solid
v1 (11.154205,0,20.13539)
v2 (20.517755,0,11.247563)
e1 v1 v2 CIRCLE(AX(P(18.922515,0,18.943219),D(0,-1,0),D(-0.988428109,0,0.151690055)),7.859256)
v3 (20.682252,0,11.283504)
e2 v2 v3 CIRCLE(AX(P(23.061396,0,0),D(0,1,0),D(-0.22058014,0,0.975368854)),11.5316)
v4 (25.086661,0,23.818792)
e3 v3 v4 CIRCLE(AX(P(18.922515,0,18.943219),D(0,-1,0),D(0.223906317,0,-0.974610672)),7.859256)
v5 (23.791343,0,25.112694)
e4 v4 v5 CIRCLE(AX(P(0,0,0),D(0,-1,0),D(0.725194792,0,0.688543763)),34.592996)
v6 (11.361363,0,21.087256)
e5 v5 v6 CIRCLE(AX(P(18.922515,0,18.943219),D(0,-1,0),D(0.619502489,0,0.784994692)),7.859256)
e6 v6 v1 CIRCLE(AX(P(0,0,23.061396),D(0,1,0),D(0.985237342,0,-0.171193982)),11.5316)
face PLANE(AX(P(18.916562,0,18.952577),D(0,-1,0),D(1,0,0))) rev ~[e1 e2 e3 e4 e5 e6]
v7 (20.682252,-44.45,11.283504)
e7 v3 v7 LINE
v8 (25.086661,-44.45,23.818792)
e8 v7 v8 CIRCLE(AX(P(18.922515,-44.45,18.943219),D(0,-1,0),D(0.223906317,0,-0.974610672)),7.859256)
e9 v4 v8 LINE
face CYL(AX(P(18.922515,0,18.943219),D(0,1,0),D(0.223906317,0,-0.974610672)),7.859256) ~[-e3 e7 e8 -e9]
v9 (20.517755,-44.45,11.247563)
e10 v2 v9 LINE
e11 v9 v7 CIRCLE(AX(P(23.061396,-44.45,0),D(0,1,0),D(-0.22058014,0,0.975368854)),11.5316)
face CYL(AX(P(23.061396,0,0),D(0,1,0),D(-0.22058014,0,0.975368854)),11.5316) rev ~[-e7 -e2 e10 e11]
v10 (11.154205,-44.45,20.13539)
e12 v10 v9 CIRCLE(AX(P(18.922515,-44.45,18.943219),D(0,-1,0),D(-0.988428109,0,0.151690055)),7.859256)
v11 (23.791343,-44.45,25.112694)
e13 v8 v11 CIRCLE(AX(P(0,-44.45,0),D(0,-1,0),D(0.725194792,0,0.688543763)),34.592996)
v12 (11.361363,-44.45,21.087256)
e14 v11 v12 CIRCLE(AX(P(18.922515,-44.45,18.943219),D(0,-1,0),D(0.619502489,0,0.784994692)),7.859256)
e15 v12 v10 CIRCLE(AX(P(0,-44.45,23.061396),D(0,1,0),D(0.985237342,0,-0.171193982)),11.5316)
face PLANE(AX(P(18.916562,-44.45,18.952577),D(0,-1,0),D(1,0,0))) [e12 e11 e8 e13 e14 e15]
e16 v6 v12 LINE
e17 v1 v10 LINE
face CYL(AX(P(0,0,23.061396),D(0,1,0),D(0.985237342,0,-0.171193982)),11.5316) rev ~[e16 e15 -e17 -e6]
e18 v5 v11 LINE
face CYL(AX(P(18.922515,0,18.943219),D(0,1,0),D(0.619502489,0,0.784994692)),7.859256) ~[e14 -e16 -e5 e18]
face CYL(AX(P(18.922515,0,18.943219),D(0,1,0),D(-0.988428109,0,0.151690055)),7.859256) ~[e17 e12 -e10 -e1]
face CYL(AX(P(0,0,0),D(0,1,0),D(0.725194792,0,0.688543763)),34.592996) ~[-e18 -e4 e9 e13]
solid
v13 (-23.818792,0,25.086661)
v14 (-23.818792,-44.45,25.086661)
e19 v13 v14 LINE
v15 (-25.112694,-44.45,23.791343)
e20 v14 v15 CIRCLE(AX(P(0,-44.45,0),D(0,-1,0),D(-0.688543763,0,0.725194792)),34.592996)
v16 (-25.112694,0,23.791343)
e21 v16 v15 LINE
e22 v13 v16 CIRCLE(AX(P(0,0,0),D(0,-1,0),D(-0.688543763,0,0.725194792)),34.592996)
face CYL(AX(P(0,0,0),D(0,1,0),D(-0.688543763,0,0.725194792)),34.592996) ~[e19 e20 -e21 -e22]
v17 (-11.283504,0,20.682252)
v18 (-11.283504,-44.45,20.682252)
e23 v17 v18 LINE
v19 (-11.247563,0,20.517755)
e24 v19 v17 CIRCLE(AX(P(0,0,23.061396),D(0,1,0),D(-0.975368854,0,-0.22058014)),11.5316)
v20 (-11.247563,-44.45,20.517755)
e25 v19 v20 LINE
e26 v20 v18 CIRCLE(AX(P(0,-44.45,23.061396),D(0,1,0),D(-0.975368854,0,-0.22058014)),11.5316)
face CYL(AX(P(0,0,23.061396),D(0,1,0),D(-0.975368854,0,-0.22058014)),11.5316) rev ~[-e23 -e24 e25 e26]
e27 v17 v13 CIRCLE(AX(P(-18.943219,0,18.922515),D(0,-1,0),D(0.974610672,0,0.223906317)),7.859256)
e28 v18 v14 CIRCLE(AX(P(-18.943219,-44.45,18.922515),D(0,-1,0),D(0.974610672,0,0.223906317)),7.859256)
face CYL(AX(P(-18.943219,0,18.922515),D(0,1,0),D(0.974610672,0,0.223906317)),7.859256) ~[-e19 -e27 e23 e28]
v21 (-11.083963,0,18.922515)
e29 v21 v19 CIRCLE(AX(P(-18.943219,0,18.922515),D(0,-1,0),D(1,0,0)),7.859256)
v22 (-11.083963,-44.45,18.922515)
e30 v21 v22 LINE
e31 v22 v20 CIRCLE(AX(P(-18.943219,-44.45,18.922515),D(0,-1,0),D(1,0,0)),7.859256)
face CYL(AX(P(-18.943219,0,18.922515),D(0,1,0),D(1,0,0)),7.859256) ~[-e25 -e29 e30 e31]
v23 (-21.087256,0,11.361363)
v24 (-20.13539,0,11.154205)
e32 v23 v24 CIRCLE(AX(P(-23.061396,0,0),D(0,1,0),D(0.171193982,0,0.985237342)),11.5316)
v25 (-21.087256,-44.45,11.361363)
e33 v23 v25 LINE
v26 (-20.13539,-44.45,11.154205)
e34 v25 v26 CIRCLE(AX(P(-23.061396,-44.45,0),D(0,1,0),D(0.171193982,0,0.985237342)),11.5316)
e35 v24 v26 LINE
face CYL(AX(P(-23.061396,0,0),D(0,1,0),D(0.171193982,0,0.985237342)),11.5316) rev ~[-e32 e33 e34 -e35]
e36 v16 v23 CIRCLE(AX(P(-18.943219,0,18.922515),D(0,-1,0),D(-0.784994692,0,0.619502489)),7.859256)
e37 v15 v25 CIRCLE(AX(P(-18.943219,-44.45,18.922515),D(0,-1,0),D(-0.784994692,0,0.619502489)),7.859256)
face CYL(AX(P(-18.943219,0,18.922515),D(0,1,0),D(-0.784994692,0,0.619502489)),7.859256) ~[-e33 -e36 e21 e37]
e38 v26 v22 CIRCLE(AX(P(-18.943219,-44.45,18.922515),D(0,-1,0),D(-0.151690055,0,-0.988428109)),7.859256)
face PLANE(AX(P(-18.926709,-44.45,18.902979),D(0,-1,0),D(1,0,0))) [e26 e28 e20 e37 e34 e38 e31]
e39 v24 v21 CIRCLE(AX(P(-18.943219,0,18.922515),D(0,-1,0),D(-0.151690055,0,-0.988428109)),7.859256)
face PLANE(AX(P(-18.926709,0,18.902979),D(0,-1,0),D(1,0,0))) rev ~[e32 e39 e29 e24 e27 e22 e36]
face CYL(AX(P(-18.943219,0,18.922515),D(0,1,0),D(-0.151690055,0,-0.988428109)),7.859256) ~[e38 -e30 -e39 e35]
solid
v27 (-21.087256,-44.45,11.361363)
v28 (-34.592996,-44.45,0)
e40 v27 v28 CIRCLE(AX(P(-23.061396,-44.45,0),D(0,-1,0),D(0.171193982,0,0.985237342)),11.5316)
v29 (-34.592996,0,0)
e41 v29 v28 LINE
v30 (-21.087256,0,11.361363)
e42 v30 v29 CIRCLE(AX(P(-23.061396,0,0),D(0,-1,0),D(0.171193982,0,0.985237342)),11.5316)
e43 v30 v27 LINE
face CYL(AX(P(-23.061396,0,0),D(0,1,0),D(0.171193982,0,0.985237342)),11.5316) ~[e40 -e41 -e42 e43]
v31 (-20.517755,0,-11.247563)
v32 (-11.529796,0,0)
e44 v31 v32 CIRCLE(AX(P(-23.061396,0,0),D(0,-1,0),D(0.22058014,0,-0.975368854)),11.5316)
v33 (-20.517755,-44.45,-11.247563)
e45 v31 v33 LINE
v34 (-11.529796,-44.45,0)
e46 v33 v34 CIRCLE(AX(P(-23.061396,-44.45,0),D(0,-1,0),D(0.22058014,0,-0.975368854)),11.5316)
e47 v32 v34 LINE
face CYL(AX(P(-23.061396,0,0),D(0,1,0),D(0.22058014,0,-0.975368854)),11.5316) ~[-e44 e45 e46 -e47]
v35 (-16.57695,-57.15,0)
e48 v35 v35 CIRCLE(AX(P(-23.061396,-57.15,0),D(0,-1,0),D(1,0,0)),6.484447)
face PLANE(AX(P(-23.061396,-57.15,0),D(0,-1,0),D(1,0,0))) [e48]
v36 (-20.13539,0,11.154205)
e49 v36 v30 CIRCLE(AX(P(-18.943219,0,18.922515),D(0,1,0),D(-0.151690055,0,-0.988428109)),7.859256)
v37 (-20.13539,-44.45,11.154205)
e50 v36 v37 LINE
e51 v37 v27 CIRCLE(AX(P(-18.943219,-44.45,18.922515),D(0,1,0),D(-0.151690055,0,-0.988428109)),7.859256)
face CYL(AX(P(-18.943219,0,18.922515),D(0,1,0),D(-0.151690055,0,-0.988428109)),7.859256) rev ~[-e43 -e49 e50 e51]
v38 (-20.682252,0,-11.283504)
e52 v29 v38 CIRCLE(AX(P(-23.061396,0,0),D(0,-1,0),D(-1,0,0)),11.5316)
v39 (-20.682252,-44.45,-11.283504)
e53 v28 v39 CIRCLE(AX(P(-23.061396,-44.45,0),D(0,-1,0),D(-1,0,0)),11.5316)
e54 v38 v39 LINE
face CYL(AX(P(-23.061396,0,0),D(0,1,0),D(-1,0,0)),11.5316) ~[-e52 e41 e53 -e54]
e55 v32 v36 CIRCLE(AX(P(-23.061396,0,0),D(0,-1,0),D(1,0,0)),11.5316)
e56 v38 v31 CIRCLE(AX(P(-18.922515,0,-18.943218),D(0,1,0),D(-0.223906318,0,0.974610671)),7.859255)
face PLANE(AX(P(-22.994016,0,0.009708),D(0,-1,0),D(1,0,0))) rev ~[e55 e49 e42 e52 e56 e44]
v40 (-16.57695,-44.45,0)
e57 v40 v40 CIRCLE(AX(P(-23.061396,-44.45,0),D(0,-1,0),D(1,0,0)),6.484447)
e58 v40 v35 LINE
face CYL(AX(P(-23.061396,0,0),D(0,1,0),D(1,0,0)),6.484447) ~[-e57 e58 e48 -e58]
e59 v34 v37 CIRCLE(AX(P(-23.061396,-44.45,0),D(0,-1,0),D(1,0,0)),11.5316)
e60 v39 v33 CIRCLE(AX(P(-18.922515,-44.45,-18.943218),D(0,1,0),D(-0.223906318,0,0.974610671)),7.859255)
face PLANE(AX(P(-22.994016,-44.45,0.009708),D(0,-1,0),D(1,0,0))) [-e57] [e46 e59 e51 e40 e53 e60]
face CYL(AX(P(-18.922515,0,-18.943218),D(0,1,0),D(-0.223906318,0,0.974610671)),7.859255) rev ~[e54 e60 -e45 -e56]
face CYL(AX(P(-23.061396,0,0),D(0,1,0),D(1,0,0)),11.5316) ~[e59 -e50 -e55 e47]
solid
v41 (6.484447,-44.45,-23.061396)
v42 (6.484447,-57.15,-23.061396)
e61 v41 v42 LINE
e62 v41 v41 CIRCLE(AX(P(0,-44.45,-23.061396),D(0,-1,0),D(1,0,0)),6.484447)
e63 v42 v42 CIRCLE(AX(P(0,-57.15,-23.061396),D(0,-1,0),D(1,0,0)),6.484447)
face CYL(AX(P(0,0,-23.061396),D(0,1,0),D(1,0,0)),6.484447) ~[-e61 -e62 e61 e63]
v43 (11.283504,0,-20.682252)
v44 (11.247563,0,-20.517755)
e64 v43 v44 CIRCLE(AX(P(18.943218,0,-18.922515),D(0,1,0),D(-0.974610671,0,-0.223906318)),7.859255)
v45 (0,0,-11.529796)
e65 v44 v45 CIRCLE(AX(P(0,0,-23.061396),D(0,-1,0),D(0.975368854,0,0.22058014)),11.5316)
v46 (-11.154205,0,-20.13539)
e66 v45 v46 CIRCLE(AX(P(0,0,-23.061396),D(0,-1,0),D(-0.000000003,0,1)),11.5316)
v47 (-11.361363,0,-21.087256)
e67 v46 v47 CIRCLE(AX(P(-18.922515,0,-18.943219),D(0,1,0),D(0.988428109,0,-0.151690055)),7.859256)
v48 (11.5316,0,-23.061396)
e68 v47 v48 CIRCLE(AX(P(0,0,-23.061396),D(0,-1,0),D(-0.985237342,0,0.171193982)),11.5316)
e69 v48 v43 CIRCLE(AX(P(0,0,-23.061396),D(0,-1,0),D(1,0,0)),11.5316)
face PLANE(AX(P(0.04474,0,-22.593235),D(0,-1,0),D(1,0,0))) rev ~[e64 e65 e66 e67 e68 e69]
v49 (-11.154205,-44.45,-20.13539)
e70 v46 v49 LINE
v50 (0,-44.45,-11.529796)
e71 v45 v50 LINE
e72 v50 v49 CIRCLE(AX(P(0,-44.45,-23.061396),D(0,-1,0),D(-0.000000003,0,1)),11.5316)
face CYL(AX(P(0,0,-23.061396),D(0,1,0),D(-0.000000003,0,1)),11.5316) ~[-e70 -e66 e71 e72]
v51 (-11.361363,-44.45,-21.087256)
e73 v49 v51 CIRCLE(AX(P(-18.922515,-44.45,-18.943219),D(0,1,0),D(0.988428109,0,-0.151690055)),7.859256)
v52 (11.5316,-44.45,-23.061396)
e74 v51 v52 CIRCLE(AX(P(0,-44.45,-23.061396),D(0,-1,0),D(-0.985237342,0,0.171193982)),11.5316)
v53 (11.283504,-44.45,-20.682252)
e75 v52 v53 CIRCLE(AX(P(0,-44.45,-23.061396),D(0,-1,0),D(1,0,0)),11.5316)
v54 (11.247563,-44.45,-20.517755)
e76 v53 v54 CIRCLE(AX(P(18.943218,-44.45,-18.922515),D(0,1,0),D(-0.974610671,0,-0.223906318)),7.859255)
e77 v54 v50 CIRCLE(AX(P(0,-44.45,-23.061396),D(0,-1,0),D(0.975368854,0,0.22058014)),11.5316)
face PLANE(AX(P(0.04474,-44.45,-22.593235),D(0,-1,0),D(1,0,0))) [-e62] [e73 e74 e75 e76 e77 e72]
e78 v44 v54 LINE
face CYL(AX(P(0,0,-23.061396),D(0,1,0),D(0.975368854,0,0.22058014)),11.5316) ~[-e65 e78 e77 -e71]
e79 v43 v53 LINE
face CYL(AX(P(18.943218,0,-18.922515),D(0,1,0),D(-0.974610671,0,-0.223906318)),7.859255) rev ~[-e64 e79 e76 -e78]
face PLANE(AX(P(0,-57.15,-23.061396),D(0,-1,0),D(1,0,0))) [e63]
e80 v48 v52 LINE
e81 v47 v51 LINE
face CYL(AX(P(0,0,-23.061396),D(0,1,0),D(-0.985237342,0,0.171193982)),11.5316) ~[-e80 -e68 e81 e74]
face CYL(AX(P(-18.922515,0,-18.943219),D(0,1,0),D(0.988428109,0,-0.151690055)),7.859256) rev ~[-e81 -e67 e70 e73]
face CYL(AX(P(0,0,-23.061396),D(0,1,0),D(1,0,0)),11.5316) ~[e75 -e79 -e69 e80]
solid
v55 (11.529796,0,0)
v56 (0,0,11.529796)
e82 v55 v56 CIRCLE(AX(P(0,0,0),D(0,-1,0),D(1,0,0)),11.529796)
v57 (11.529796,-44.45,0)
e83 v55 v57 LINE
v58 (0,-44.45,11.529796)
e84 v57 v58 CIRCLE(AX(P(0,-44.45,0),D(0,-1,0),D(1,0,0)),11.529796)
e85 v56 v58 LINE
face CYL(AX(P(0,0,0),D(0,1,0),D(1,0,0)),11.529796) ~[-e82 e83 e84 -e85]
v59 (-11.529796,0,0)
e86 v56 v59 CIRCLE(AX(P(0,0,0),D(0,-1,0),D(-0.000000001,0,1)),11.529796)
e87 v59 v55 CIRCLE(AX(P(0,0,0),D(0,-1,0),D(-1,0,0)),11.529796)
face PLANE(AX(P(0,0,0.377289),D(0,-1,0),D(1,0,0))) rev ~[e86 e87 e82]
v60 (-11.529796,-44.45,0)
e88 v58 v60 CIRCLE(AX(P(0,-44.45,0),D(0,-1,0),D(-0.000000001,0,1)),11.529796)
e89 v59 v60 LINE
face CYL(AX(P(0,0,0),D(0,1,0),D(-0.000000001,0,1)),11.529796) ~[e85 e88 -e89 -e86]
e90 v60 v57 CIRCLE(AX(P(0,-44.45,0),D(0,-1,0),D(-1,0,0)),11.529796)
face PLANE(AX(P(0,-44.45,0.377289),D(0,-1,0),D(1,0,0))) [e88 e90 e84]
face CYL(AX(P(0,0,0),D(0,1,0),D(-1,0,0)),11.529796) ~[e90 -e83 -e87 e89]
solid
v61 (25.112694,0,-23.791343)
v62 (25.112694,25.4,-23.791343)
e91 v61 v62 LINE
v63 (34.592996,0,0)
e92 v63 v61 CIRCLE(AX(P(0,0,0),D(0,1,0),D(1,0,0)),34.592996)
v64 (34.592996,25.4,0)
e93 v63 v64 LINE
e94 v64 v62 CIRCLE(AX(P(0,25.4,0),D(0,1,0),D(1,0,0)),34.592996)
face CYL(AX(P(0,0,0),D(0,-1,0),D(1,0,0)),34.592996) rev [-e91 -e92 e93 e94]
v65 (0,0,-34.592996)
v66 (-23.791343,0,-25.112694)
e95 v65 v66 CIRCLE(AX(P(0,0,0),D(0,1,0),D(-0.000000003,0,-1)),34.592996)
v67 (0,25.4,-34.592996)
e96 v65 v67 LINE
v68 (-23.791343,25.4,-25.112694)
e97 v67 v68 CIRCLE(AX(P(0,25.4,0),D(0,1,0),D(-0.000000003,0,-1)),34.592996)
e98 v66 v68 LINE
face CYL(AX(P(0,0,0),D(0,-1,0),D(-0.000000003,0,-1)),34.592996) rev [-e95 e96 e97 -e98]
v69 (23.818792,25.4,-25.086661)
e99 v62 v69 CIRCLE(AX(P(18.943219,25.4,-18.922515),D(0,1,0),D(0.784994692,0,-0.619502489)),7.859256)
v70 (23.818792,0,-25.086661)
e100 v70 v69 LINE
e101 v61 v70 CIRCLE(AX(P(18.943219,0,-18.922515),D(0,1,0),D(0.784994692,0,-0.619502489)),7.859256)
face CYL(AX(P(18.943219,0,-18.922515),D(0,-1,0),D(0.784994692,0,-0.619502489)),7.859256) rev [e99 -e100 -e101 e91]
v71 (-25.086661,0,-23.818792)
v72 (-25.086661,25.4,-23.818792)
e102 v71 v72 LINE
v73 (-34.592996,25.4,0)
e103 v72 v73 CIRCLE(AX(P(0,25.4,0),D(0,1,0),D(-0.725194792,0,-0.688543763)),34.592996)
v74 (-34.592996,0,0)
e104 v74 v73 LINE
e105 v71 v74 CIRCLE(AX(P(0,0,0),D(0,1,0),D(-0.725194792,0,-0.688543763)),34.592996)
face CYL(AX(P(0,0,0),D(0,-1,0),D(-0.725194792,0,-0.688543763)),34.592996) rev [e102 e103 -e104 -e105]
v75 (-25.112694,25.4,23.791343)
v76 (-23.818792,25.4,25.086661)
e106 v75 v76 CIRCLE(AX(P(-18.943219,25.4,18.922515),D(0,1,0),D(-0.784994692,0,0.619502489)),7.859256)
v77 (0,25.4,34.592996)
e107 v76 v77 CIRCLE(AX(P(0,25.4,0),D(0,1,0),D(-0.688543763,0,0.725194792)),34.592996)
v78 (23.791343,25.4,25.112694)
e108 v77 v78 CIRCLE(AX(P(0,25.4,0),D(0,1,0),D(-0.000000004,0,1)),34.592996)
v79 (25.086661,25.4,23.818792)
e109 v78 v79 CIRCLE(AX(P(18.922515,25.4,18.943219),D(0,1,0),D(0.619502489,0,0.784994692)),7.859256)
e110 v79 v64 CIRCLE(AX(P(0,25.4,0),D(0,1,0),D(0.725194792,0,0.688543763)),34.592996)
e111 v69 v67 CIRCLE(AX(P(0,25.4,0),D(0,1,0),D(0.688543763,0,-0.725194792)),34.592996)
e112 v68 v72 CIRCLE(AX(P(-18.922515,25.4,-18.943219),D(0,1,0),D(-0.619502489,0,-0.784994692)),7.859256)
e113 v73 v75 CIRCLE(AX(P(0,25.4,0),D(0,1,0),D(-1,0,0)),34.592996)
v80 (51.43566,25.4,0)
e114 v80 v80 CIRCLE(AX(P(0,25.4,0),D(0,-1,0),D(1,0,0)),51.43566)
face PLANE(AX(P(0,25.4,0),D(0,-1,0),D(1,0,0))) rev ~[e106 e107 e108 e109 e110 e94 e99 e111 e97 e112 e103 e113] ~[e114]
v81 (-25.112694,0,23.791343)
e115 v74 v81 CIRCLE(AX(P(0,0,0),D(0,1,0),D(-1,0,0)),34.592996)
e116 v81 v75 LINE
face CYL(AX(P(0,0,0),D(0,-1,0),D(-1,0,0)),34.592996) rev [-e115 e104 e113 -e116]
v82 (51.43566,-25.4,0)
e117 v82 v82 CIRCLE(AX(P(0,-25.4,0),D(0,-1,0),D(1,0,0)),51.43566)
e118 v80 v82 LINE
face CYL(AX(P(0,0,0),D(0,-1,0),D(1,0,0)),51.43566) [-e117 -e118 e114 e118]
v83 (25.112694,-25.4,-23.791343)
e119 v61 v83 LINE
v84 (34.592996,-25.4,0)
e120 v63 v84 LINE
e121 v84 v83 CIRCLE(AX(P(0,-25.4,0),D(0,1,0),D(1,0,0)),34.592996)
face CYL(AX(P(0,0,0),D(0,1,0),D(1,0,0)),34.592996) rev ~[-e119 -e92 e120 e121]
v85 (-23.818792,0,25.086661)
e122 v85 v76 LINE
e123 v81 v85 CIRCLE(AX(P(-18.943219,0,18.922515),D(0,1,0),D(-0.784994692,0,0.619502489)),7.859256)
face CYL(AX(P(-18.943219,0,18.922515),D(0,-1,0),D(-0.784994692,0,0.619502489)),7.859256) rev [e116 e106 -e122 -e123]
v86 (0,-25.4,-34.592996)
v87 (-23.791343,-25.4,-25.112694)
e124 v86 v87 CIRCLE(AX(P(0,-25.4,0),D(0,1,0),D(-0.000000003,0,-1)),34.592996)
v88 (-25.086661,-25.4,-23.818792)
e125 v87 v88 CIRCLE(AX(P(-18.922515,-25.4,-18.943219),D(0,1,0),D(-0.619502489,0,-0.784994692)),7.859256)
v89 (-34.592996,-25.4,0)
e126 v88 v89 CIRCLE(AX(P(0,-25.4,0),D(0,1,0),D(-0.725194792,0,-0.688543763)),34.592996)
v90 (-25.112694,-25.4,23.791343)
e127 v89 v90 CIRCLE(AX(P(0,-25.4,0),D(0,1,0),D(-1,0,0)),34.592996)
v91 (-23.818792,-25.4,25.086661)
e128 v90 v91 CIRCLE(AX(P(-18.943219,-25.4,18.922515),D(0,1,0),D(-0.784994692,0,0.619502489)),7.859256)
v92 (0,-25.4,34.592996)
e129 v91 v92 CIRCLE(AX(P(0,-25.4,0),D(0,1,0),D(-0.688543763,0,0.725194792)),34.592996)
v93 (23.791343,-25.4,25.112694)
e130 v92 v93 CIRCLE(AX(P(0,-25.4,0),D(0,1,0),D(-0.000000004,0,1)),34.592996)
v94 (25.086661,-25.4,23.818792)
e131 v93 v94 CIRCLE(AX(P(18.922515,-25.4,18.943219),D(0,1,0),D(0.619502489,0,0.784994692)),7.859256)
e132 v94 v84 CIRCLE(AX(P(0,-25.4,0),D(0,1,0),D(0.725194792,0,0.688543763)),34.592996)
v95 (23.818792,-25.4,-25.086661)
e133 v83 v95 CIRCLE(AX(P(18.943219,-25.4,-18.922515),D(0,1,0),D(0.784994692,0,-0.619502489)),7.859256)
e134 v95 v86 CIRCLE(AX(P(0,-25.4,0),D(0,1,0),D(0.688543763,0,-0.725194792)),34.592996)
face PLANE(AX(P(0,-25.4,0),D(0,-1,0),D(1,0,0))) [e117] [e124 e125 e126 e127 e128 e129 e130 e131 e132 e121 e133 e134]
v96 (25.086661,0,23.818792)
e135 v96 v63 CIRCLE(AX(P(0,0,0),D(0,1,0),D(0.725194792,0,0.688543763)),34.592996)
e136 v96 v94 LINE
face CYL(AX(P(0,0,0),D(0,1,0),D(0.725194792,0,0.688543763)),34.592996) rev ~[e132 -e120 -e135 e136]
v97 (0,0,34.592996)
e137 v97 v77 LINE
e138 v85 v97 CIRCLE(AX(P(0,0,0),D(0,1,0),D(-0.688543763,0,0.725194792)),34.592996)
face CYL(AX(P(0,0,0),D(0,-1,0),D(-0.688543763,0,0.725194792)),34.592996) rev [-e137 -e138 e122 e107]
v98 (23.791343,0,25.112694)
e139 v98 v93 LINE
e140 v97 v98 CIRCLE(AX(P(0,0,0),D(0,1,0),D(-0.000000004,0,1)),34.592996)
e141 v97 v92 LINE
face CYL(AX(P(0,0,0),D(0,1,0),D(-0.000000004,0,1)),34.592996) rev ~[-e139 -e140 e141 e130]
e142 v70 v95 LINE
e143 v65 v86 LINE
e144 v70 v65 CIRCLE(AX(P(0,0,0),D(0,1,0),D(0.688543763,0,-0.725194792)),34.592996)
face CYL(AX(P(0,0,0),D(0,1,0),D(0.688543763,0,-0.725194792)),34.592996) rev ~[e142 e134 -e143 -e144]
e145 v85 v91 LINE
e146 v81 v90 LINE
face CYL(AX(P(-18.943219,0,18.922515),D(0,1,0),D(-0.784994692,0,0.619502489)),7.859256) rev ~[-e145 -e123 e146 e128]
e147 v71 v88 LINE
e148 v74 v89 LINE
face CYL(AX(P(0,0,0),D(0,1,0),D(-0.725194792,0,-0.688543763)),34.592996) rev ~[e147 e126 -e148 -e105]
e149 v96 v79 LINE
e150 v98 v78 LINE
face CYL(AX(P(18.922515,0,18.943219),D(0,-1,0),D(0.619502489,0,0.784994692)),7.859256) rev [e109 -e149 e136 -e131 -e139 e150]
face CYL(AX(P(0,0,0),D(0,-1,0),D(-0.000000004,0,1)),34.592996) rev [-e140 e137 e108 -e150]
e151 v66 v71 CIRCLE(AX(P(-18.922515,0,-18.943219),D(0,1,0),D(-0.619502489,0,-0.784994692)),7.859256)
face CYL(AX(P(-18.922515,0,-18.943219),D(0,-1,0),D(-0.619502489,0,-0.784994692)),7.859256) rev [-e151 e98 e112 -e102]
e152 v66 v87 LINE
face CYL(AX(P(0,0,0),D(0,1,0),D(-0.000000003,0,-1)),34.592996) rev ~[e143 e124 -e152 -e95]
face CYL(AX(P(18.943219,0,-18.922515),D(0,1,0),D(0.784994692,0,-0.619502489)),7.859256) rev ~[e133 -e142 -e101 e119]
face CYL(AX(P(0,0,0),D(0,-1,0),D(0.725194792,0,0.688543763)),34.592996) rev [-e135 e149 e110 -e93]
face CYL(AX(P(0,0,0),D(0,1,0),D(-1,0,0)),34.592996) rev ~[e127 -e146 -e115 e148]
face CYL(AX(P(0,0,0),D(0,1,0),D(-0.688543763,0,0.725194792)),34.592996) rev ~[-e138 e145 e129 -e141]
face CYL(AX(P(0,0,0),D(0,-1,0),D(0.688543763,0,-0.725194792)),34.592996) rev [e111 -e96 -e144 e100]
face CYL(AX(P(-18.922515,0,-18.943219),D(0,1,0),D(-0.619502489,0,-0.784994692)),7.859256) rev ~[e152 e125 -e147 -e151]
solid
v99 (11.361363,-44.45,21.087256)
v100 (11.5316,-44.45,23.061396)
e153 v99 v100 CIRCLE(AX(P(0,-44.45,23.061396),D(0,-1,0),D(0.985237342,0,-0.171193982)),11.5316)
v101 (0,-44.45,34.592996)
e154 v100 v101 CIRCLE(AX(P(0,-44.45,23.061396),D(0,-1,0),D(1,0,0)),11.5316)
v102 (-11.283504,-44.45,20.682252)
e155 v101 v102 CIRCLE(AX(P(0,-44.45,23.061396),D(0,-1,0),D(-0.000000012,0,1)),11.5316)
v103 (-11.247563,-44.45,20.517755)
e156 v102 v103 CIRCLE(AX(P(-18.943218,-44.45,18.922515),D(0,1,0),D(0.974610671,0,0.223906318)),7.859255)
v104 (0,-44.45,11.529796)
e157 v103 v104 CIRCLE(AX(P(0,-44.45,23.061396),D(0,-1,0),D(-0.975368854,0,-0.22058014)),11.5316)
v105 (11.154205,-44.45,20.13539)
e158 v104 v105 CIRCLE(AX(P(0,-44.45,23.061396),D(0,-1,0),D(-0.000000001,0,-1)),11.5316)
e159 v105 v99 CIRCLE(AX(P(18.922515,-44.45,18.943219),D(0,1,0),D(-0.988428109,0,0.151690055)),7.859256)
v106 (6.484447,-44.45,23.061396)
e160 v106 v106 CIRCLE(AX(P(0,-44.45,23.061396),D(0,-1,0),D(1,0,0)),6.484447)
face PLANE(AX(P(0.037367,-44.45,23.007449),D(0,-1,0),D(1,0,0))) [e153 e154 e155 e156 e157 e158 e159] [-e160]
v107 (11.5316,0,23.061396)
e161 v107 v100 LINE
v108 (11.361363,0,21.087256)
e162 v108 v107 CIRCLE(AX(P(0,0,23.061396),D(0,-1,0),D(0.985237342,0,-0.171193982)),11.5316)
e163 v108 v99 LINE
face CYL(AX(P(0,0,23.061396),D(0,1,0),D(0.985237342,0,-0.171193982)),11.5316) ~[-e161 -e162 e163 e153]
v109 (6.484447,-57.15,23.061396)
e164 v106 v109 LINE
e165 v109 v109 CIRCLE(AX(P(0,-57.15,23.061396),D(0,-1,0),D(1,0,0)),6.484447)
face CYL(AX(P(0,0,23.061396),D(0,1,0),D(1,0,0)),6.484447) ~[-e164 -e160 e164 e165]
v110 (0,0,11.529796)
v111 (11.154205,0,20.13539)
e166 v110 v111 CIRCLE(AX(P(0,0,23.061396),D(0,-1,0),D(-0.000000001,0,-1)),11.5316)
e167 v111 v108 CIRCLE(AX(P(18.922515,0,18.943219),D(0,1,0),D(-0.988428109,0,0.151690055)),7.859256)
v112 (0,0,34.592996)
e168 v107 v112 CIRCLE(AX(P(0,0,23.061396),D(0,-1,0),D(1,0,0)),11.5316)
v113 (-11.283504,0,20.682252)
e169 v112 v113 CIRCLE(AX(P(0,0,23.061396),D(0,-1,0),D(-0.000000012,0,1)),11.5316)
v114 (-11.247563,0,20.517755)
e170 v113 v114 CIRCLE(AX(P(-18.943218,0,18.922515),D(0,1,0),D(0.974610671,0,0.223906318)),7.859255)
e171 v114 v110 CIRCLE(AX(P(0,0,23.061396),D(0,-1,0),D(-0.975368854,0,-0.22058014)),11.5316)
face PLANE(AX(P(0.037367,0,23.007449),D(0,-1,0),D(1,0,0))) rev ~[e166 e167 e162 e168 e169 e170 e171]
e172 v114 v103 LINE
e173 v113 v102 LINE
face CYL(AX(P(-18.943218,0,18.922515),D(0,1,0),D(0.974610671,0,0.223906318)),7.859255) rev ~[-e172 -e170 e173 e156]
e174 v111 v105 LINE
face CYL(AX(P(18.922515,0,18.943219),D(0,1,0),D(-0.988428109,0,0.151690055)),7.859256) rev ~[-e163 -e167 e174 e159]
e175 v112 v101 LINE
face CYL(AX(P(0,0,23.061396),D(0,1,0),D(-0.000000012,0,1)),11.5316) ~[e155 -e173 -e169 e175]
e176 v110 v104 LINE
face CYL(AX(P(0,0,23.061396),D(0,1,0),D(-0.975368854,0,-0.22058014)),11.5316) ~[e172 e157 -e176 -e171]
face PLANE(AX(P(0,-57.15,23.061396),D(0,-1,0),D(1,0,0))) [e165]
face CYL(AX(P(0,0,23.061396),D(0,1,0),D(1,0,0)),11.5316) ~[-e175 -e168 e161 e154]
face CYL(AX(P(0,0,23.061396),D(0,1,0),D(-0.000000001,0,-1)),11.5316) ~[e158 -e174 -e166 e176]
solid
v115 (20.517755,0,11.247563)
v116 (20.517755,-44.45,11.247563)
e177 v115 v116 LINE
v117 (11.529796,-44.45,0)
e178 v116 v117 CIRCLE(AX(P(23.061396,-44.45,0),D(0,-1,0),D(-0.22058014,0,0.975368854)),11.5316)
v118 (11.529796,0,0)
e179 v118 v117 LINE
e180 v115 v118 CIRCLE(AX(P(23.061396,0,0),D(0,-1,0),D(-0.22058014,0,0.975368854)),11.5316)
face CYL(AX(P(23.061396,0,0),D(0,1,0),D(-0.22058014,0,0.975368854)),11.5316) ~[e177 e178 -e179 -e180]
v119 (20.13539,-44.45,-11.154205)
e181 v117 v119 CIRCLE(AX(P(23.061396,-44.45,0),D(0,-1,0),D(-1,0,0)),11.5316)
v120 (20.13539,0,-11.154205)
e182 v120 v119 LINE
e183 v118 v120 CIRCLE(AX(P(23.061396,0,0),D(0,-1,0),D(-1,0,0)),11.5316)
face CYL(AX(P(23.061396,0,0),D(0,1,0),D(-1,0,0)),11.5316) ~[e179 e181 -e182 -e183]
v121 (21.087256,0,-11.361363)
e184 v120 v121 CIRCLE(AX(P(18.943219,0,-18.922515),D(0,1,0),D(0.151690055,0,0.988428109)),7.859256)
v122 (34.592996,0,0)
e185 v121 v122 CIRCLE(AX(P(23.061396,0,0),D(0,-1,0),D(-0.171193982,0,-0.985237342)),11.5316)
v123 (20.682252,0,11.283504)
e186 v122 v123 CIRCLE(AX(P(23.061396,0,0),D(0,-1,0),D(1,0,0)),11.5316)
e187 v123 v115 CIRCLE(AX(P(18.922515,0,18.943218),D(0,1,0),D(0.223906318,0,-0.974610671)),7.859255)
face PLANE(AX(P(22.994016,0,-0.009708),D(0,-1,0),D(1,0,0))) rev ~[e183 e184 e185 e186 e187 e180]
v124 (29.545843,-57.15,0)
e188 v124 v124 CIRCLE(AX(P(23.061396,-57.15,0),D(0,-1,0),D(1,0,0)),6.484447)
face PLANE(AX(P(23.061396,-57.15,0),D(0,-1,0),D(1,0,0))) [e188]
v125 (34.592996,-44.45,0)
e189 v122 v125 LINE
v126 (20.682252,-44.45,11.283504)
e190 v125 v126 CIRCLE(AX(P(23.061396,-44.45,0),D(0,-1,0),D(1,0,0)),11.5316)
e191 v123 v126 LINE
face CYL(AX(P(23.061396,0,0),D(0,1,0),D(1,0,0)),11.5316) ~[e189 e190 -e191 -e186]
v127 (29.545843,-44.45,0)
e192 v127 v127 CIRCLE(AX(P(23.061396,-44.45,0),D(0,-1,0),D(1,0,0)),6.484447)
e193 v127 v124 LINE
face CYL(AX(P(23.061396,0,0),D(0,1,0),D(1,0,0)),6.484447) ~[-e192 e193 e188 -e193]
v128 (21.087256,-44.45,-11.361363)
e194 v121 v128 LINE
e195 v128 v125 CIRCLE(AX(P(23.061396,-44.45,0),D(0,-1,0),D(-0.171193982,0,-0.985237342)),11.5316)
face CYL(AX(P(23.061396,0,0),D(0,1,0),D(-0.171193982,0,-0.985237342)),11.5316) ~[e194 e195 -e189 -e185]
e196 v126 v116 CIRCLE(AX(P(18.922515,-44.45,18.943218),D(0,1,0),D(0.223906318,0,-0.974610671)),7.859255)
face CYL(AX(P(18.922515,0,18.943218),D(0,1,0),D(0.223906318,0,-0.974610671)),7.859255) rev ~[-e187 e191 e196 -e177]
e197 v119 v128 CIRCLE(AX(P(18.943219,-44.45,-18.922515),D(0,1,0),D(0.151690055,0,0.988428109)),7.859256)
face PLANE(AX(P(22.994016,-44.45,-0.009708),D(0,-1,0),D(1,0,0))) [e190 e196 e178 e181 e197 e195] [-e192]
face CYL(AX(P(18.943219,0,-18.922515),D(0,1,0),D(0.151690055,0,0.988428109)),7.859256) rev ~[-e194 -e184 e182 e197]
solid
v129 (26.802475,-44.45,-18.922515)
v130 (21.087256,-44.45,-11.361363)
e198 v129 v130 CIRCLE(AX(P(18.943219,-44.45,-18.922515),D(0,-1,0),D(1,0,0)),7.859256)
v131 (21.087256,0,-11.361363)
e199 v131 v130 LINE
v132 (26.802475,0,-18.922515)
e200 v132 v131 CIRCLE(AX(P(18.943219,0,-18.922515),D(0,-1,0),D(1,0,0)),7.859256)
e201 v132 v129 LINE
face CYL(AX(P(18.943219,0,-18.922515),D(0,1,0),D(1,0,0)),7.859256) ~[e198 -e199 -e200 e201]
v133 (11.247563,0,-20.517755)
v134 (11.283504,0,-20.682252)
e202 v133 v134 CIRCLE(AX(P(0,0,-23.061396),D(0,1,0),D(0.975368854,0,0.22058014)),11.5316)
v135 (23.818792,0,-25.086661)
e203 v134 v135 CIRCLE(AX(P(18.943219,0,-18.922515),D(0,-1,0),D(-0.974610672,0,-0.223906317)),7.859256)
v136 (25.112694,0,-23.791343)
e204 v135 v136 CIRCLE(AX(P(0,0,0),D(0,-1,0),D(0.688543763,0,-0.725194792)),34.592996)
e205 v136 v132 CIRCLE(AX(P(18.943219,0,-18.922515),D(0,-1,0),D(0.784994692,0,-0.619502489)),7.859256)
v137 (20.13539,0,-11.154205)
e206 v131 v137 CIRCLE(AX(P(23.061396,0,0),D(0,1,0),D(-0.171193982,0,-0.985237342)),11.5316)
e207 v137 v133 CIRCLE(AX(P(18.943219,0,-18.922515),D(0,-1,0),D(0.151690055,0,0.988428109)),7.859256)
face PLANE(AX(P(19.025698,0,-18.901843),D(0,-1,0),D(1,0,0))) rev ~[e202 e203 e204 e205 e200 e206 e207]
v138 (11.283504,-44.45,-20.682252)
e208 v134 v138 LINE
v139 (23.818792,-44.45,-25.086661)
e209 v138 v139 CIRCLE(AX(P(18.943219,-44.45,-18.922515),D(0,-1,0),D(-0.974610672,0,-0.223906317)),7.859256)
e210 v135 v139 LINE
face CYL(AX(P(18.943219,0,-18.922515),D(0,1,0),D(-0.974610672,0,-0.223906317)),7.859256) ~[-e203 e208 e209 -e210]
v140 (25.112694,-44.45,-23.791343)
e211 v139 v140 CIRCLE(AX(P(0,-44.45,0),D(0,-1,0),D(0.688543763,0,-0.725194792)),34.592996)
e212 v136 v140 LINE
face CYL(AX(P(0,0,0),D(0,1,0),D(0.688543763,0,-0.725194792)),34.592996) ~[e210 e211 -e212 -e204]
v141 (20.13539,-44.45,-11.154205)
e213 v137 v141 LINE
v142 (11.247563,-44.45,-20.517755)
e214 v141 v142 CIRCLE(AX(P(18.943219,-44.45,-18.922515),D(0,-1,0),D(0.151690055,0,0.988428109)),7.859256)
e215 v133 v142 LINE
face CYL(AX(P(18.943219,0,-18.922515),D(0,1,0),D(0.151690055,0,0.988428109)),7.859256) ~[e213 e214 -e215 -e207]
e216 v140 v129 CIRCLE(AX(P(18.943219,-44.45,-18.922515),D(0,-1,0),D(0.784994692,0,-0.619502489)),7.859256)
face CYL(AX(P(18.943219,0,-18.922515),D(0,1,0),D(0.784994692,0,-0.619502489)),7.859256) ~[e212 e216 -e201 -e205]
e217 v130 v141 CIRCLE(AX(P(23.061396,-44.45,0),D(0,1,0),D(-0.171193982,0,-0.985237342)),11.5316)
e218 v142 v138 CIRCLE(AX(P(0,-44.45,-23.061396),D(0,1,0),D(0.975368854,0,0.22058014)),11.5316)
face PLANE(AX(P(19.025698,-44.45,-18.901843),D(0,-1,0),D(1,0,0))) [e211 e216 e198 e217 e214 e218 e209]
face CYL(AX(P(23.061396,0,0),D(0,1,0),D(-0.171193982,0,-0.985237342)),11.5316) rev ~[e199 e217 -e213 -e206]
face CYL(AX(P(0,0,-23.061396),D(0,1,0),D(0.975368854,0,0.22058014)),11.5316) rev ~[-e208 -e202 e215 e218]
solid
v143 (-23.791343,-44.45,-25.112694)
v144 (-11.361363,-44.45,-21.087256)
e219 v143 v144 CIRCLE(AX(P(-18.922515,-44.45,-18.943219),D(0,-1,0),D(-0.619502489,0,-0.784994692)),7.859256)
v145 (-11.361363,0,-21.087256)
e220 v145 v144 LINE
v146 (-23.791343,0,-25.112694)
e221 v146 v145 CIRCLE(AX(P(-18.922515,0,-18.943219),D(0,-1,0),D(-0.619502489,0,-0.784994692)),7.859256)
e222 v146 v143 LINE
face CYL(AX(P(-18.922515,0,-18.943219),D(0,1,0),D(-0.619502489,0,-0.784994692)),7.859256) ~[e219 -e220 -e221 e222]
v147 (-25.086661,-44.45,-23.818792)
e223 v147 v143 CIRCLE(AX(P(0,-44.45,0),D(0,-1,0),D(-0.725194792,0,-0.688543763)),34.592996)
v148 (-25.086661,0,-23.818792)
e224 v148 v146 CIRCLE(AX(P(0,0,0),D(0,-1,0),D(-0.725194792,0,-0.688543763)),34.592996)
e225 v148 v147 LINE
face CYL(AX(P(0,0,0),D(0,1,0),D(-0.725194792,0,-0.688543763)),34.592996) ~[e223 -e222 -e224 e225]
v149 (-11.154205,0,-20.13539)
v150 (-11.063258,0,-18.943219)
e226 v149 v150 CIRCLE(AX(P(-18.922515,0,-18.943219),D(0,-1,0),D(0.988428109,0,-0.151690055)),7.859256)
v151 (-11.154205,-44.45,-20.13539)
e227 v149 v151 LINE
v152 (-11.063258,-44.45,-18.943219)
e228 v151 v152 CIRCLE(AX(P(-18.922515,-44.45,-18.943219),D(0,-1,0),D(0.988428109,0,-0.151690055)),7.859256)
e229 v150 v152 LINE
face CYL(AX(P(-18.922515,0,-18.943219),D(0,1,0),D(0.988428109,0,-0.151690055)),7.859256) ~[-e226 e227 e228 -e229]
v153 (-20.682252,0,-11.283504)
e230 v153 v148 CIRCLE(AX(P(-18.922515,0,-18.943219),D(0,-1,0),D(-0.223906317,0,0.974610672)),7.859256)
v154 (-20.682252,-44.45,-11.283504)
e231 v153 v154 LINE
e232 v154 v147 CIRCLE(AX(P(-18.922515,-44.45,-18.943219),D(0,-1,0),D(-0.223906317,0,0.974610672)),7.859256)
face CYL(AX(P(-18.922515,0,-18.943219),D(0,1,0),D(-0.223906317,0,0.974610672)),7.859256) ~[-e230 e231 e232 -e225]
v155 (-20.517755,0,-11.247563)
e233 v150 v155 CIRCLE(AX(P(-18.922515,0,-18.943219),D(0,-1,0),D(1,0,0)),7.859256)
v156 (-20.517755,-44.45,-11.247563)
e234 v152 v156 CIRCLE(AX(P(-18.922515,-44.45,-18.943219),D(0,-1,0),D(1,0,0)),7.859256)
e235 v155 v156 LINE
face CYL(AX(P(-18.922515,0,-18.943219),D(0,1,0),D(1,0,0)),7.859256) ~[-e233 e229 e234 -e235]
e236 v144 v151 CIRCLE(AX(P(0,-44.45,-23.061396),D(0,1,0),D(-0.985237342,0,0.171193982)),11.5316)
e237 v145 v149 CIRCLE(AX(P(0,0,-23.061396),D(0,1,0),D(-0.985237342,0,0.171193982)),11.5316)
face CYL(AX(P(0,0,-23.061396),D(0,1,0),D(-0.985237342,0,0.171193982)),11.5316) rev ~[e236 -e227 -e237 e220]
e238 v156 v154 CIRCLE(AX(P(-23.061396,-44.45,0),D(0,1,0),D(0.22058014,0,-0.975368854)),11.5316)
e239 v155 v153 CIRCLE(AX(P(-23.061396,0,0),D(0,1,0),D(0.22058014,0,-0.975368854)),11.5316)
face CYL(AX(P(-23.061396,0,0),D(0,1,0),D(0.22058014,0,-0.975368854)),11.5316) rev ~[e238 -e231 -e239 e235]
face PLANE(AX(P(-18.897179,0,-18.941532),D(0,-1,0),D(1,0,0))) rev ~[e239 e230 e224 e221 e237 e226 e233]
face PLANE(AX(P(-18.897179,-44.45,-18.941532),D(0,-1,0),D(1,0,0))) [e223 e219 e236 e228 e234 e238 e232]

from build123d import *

# Parameters (mm, degrees)
F0_R           = 6.4844466941
F1_DEPTH       = 44.45
F2_DEPTH       = 57.15
F3_DEPTH       = 44.45
F4_DEPTH       = 57.15
F5_DEPTH       = 44.45
F6_DEPTH       = 44.45
F7_DEPTH       = 44.45
F8_DEPTH       = 44.45
F9_DEPTH       = 44.45
F10_DEPTH      = 57.15
F11_DEPTH      = 44.45
F12_DEPTH      = 57.15
F13_DEPTH      = 44.45
F0_R_2         = 51.4356597364
F14_DEPTH      = 25.4
F14_DEPTH_BACK = 25.4


with BuildPart() as f1:
    # F0 (on Front) → F1 (new body)
    with BuildSketch(Plane.XZ):
        with BuildLine():
            ThreePointArc((-11.2475634808, 20.5177545372), (-7.198803281, 14.0527878203), (-1.41e-08, 11.5297964744))
            ThreePointArc((-1.41e-08, 11.5297964744), (7.0440139558, 13.9312449997), (11.1542048678, 20.1353902667))
            ThreePointArc((11.1542048678, 20.1353902667), (11.2430218597, 20.6145358258), (11.3613629352, 21.0872559488))
            ThreePointArc((11.3613629352, 21.0872559488), (11.4889619066, 22.0706629743), (11.5316, 23.0613964744))
            ThreePointArc((11.5316, 23.0613964744), (8.1540725102, 31.2154690801), (-1.351e-07, 34.5929964744))
            ThreePointArc((-1.351e-07, 34.5929964744), (-8.955812233, 30.3257770954), (-11.2835042825, 20.6822517398))
            ThreePointArc((-11.2835042825, 20.6822517398), (-11.2650933427, 20.6000993914), (-11.2475634808, 20.5177545372))
        make_face()
        with Locations((0, 23.0613964744)):
            Circle(F0_R, mode=Mode.SUBTRACT)
    extrude(amount=F1_DEPTH)

    # F0 (on Front) → F2 (join)
    with BuildSketch(Plane.XZ):
        with Locations((0, 23.0613964744)):
            Circle(F0_R)
    extrude(amount=F2_DEPTH)


with BuildPart() as f3:
    # F0 (on Front) → F3 (new body)
    with BuildSketch(Plane.XZ):
        with BuildLine():
            ThreePointArc((-20.5177545372, -11.2475634808), (-14.0527878159, -7.1988032755), (-11.5297964744, 0))
            ThreePointArc((-11.5297964744, 0), (-13.931245004, 7.0440139614), (-20.1353902667, 11.1542048678))
            ThreePointArc((-20.1353902667, 11.1542048678), (-20.6145358258, 11.2430218597), (-21.0872559488, 11.3613629352))
            ThreePointArc((-21.0872559488, 11.3613629352), (-30.4847649711, 8.8244772492), (-34.5929964744, 0))
            ThreePointArc((-34.5929964744, 0), (-30.3257771479, -8.9558121904), (-20.6822517398, -11.2835042825))
            ThreePointArc((-20.6822517398, -11.2835042825), (-20.6000993914, -11.2650933427), (-20.5177545372, -11.2475634808))
        make_face()
        with Locations((-23.0613964744, 0)):
            Circle(F0_R, mode=Mode.SUBTRACT)
    extrude(amount=F3_DEPTH)

    # F0 (on Front) → F4 (join)
    with BuildSketch(Plane.XZ):
        with Locations((-23.0613964744, 0)):
            Circle(F0_R)
    extrude(amount=F4_DEPTH)


with BuildPart() as f5:
    # F0 (on Front) → F5 (new body)
    with BuildSketch(Plane.XZ):
        with BuildLine():
            ThreePointArc((-11.3613629352, -21.0872559488), (-11.2678396528, -20.6091346372), (-11.1542048678, -20.1353902667))
            ThreePointArc((-11.1542048678, -20.1353902667), (-11.0860280113, -19.5410367429), (-11.0632584142, -18.9432192621))
            ThreePointArc((-11.0632584142, -18.9432192621), (-13.9611383538, -12.84792159), (-20.5177545372, -11.2475634808))
            ThreePointArc((-20.5177545372, -11.2475634808), (-20.5999375393, -11.2658341223), (-20.6822517398, -11.2835042825))
            ThreePointArc((-20.6822517398, -11.2835042825), (-26.3373876023, -16.3379232965), (-25.0866608948, -23.8187919556))
            ThreePointArc((-25.0866608948, -23.8187919556), (-24.4475637175, -24.4743137464), (-23.7913434141, -25.1126936753))
            ThreePointArc((-23.7913434141, -25.1126936753), (-16.5011125803, -26.420165188), (-11.3613629352, -21.0872559488))
        make_face()
    extrude(amount=F5_DEPTH)


with BuildPart() as f6:
    # F0 (on Front) → F6 (new body)
    with BuildSketch(Plane.XZ):
        with BuildLine():
            ThreePointArc((-11.0839630463, 18.9225146299), (-11.1249701359, 19.7243181383), (-11.2475634808, 20.5177545372))
            ThreePointArc((-11.2475634808, 20.5177545372), (-11.2658341223, 20.5999375393), (-11.2835042825, 20.6822517398))
            ThreePointArc((-11.2835042825, 20.6822517398), (-16.3379232965, 26.3373876023), (-23.8187919556, 25.0866608948))
            ThreePointArc((-23.8187919556, 25.0866608948), (-24.4743137464, 24.4475637175), (-25.1126936753, 23.7913434141))
            ThreePointArc((-25.1126936753, 23.7913434141), (-26.420165188, 16.5011125803), (-21.0872559488, 11.3613629352))
            ThreePointArc((-21.0872559488, 11.3613629352), (-20.6091346372, 11.2678396528), (-20.1353902667, 11.1542048678))
            ThreePointArc((-20.1353902667, 11.1542048678), (-13.824707228, 12.9585610066), (-11.0839630463, 18.9225146299))
        make_face()
    extrude(amount=F6_DEPTH)


with BuildPart() as f7:
    # F0 (on Front) → F7 (new body)
    with BuildSketch(Plane.XZ):
        with BuildLine():
            ThreePointArc((21.0872559488, -11.3613629352), (20.6091346372, -11.2678396528), (20.1353902667, -11.1542048678))
            ThreePointArc((20.1353902667, -11.1542048678), (13.2429697795, -13.5118710359), (11.2475634808, -20.5177545372))
            ThreePointArc((11.2475634808, -20.5177545372), (11.2658341223, -20.5999375393), (11.2835042825, -20.6822517398))
            ThreePointArc((11.2835042825, -20.6822517398), (16.3379232965, -26.3373876023), (23.8187919556, -25.0866608948))
            ThreePointArc((23.8187919556, -25.0866608948), (24.4743137464, -24.4475637175), (25.1126936753, -23.7913434141))
            ThreePointArc((25.1126936753, -23.7913434141), (26.368021899, -21.4993759121), (26.8024754778, -18.9225146299))
            ThreePointArc((26.8024754778, -18.9225146299), (25.2129258709, -14.183454881), (21.0872559488, -11.3613629352))
        make_face()
    extrude(amount=F7_DEPTH)


with BuildPart() as f8:
    # F0 (on Front) → F8 (new body)
    with BuildSketch(Plane.XZ):
        with BuildLine():
            ThreePointArc((11.1542048678, 20.1353902667), (13.5118710359, 13.2429697795), (20.5177545372, 11.2475634808))
            ThreePointArc((20.5177545372, 11.2475634808), (20.5999375393, 11.2658341223), (20.6822517398, 11.2835042825))
            ThreePointArc((20.6822517398, 11.2835042825), (25.0706091756, 14.0474208877), (26.7817708457, 18.9432192621))
            ThreePointArc((26.7817708457, 18.9432192621), (26.3459071533, 21.5241399716), (25.0866608948, 23.8187919556))
            ThreePointArc((25.0866608948, 23.8187919556), (24.4475637175, 24.4743137464), (23.7913434141, 25.1126936753))
            ThreePointArc((23.7913434141, 25.1126936753), (16.5011125803, 26.420165188), (11.3613629352, 21.0872559488))
            ThreePointArc((11.3613629352, 21.0872559488), (11.2678396528, 20.6091346372), (11.1542048678, 20.1353902667))
        make_face()
    extrude(amount=F8_DEPTH)


with BuildPart() as f9:
    # F0 (on Front) → F9 (new body)
    with BuildSketch(Plane.XZ):
        with BuildLine():
            ThreePointArc((20.5177545372, 11.2475634808), (14.0527878159, 7.1988032755), (11.5297964744, 0))
            ThreePointArc((11.5297964744, 0), (13.931245004, -7.0440139614), (20.1353902667, -11.1542048678))
            ThreePointArc((20.1353902667, -11.1542048678), (20.6145358258, -11.2430218597), (21.0872559488, -11.3613629352))
            ThreePointArc((21.0872559488, -11.3613629352), (30.4847649711, -8.8244772492), (34.5929964744, 0))
            ThreePointArc((34.5929964744, 0), (30.3257771479, 8.9558121904), (20.6822517398, 11.2835042825))
            ThreePointArc((20.6822517398, 11.2835042825), (20.6000993914, 11.2650933427), (20.5177545372, 11.2475634808))
        make_face()
        with Locations((23.0613964744, 0)):
            Circle(F0_R, mode=Mode.SUBTRACT)
    extrude(amount=F9_DEPTH)

    # F0 (on Front) → F10 (join)
    with BuildSketch(Plane.XZ):
        with Locations((23.0613964744, 0)):
            Circle(F0_R)
    extrude(amount=F10_DEPTH)


with BuildPart() as f11:
    # F0 (on Front) → F11 (new body)
    with BuildSketch(Plane.XZ):
        with BuildLine():
            ThreePointArc((11.2475634808, -20.5177545372), (7.1988032634, -14.0527878062), (-3.1e-08, -11.5297964744))
            ThreePointArc((-3.1e-08, -11.5297964744), (-7.0440139736, -13.9312450134), (-11.1542048678, -20.1353902667))
            ThreePointArc((-11.1542048678, -20.1353902667), (-11.2430218597, -20.6145358258), (-11.3613629352, -21.0872559488))
            ThreePointArc((-11.3613629352, -21.0872559488), (-8.8244772799, -30.4847649346), (-9.53e-08, -34.5929964744))
            ThreePointArc((-9.53e-08, -34.5929964744), (8.1540725243, -31.215469066), (11.5316, -23.0613964744))
            ThreePointArc((11.5316, -23.0613964744), (11.4694083662, -21.8653737788), (11.2835042825, -20.6822517398))
            ThreePointArc((11.2835042825, -20.6822517398), (11.2650933427, -20.6000993914), (11.2475634808, -20.5177545372))
        make_face()
        with Locations((0, -23.0613964744)):
            Circle(F0_R, mode=Mode.SUBTRACT)
    extrude(amount=F11_DEPTH)

    # F0 (on Front) → F12 (join)
    with BuildSketch(Plane.XZ):
        with Locations((0, -23.0613964744)):
            Circle(F0_R)
    extrude(amount=F12_DEPTH)


with BuildPart() as f13:
    # F0 (on Front) → F13 (new body)
    with BuildSketch(Plane.XZ):
        with BuildLine():
            ThreePointArc((-3.1e-08, -11.5297964744), (8.1527972618, -8.1527972837), (11.5297964744, 0))
            ThreePointArc((11.5297964744, 0), (8.1527972677, 8.1527972777), (-1.41e-08, 11.5297964744))
            ThreePointArc((-1.41e-08, 11.5297964744), (-8.1527972777, 8.1527972677), (-11.5297964744, 0))
            ThreePointArc((-11.5297964744, 0), (-8.1527972837, -8.1527972618), (-3.1e-08, -11.5297964744))
        make_face()
    extrude(amount=F13_DEPTH)


with BuildPart() as f14:
    # F0 (on Front) → F14 (new body, two sides)
    with BuildSketch(Plane.XZ) as f14_sk:
        Circle(F0_R_2)
        with BuildLine():
            ThreePointArc((25.0866608948, 23.8187919556), (32.1286334674, 12.8228825384), (34.5929964744, 0))
            ThreePointArc((34.5929964744, 0), (32.1356400967, -12.8053129853), (25.1126936753, -23.7913434141))
            ThreePointArc((25.1126936753, -23.7913434141), (24.5035904944, -24.4768084665), (23.8187919556, -25.0866608948))
            ThreePointArc((23.8187919556, -25.0866608948), (12.8228824942, -32.128633485), (-9.53e-08, -34.5929964744))
            ThreePointArc((-9.53e-08, -34.5929964744), (-12.8053130296, -32.135640079), (-23.7913434141, -25.1126936753))
            ThreePointArc((-23.7913434141, -25.1126936753), (-24.4768084665, -24.5035904944), (-25.0866608948, -23.8187919556))
            ThreePointArc((-25.0866608948, -23.8187919556), (-32.1286334674, -12.8228825384), (-34.5929964744, 0))
            ThreePointArc((-34.5929964744, 0), (-32.1356400967, 12.8053129853), (-25.1126936753, 23.7913434141))
            ThreePointArc((-25.1126936753, 23.7913434141), (-24.5035904944, 24.4768084665), (-23.8187919556, 25.0866608948))
            ThreePointArc((-23.8187919556, 25.0866608948), (-12.8228826012, 32.1286334423), (-1.351e-07, 34.5929964744))
            ThreePointArc((-1.351e-07, 34.5929964744), (12.8053129226, 32.1356401217), (23.7913434141, 25.1126936753))
            ThreePointArc((23.7913434141, 25.1126936753), (24.4768084665, 24.5035904944), (25.0866608948, 23.8187919556))
        make_face(mode=Mode.SUBTRACT)
    extrude(amount=F14_DEPTH)
    extrude(f14_sk.sketch, amount=-F14_DEPTH_BACK)


solid = Compound([f1.part, f3.part, f5.part, f6.part, f7.part, f8.part, f9.part, f11.part, f13.part, f14.part])
